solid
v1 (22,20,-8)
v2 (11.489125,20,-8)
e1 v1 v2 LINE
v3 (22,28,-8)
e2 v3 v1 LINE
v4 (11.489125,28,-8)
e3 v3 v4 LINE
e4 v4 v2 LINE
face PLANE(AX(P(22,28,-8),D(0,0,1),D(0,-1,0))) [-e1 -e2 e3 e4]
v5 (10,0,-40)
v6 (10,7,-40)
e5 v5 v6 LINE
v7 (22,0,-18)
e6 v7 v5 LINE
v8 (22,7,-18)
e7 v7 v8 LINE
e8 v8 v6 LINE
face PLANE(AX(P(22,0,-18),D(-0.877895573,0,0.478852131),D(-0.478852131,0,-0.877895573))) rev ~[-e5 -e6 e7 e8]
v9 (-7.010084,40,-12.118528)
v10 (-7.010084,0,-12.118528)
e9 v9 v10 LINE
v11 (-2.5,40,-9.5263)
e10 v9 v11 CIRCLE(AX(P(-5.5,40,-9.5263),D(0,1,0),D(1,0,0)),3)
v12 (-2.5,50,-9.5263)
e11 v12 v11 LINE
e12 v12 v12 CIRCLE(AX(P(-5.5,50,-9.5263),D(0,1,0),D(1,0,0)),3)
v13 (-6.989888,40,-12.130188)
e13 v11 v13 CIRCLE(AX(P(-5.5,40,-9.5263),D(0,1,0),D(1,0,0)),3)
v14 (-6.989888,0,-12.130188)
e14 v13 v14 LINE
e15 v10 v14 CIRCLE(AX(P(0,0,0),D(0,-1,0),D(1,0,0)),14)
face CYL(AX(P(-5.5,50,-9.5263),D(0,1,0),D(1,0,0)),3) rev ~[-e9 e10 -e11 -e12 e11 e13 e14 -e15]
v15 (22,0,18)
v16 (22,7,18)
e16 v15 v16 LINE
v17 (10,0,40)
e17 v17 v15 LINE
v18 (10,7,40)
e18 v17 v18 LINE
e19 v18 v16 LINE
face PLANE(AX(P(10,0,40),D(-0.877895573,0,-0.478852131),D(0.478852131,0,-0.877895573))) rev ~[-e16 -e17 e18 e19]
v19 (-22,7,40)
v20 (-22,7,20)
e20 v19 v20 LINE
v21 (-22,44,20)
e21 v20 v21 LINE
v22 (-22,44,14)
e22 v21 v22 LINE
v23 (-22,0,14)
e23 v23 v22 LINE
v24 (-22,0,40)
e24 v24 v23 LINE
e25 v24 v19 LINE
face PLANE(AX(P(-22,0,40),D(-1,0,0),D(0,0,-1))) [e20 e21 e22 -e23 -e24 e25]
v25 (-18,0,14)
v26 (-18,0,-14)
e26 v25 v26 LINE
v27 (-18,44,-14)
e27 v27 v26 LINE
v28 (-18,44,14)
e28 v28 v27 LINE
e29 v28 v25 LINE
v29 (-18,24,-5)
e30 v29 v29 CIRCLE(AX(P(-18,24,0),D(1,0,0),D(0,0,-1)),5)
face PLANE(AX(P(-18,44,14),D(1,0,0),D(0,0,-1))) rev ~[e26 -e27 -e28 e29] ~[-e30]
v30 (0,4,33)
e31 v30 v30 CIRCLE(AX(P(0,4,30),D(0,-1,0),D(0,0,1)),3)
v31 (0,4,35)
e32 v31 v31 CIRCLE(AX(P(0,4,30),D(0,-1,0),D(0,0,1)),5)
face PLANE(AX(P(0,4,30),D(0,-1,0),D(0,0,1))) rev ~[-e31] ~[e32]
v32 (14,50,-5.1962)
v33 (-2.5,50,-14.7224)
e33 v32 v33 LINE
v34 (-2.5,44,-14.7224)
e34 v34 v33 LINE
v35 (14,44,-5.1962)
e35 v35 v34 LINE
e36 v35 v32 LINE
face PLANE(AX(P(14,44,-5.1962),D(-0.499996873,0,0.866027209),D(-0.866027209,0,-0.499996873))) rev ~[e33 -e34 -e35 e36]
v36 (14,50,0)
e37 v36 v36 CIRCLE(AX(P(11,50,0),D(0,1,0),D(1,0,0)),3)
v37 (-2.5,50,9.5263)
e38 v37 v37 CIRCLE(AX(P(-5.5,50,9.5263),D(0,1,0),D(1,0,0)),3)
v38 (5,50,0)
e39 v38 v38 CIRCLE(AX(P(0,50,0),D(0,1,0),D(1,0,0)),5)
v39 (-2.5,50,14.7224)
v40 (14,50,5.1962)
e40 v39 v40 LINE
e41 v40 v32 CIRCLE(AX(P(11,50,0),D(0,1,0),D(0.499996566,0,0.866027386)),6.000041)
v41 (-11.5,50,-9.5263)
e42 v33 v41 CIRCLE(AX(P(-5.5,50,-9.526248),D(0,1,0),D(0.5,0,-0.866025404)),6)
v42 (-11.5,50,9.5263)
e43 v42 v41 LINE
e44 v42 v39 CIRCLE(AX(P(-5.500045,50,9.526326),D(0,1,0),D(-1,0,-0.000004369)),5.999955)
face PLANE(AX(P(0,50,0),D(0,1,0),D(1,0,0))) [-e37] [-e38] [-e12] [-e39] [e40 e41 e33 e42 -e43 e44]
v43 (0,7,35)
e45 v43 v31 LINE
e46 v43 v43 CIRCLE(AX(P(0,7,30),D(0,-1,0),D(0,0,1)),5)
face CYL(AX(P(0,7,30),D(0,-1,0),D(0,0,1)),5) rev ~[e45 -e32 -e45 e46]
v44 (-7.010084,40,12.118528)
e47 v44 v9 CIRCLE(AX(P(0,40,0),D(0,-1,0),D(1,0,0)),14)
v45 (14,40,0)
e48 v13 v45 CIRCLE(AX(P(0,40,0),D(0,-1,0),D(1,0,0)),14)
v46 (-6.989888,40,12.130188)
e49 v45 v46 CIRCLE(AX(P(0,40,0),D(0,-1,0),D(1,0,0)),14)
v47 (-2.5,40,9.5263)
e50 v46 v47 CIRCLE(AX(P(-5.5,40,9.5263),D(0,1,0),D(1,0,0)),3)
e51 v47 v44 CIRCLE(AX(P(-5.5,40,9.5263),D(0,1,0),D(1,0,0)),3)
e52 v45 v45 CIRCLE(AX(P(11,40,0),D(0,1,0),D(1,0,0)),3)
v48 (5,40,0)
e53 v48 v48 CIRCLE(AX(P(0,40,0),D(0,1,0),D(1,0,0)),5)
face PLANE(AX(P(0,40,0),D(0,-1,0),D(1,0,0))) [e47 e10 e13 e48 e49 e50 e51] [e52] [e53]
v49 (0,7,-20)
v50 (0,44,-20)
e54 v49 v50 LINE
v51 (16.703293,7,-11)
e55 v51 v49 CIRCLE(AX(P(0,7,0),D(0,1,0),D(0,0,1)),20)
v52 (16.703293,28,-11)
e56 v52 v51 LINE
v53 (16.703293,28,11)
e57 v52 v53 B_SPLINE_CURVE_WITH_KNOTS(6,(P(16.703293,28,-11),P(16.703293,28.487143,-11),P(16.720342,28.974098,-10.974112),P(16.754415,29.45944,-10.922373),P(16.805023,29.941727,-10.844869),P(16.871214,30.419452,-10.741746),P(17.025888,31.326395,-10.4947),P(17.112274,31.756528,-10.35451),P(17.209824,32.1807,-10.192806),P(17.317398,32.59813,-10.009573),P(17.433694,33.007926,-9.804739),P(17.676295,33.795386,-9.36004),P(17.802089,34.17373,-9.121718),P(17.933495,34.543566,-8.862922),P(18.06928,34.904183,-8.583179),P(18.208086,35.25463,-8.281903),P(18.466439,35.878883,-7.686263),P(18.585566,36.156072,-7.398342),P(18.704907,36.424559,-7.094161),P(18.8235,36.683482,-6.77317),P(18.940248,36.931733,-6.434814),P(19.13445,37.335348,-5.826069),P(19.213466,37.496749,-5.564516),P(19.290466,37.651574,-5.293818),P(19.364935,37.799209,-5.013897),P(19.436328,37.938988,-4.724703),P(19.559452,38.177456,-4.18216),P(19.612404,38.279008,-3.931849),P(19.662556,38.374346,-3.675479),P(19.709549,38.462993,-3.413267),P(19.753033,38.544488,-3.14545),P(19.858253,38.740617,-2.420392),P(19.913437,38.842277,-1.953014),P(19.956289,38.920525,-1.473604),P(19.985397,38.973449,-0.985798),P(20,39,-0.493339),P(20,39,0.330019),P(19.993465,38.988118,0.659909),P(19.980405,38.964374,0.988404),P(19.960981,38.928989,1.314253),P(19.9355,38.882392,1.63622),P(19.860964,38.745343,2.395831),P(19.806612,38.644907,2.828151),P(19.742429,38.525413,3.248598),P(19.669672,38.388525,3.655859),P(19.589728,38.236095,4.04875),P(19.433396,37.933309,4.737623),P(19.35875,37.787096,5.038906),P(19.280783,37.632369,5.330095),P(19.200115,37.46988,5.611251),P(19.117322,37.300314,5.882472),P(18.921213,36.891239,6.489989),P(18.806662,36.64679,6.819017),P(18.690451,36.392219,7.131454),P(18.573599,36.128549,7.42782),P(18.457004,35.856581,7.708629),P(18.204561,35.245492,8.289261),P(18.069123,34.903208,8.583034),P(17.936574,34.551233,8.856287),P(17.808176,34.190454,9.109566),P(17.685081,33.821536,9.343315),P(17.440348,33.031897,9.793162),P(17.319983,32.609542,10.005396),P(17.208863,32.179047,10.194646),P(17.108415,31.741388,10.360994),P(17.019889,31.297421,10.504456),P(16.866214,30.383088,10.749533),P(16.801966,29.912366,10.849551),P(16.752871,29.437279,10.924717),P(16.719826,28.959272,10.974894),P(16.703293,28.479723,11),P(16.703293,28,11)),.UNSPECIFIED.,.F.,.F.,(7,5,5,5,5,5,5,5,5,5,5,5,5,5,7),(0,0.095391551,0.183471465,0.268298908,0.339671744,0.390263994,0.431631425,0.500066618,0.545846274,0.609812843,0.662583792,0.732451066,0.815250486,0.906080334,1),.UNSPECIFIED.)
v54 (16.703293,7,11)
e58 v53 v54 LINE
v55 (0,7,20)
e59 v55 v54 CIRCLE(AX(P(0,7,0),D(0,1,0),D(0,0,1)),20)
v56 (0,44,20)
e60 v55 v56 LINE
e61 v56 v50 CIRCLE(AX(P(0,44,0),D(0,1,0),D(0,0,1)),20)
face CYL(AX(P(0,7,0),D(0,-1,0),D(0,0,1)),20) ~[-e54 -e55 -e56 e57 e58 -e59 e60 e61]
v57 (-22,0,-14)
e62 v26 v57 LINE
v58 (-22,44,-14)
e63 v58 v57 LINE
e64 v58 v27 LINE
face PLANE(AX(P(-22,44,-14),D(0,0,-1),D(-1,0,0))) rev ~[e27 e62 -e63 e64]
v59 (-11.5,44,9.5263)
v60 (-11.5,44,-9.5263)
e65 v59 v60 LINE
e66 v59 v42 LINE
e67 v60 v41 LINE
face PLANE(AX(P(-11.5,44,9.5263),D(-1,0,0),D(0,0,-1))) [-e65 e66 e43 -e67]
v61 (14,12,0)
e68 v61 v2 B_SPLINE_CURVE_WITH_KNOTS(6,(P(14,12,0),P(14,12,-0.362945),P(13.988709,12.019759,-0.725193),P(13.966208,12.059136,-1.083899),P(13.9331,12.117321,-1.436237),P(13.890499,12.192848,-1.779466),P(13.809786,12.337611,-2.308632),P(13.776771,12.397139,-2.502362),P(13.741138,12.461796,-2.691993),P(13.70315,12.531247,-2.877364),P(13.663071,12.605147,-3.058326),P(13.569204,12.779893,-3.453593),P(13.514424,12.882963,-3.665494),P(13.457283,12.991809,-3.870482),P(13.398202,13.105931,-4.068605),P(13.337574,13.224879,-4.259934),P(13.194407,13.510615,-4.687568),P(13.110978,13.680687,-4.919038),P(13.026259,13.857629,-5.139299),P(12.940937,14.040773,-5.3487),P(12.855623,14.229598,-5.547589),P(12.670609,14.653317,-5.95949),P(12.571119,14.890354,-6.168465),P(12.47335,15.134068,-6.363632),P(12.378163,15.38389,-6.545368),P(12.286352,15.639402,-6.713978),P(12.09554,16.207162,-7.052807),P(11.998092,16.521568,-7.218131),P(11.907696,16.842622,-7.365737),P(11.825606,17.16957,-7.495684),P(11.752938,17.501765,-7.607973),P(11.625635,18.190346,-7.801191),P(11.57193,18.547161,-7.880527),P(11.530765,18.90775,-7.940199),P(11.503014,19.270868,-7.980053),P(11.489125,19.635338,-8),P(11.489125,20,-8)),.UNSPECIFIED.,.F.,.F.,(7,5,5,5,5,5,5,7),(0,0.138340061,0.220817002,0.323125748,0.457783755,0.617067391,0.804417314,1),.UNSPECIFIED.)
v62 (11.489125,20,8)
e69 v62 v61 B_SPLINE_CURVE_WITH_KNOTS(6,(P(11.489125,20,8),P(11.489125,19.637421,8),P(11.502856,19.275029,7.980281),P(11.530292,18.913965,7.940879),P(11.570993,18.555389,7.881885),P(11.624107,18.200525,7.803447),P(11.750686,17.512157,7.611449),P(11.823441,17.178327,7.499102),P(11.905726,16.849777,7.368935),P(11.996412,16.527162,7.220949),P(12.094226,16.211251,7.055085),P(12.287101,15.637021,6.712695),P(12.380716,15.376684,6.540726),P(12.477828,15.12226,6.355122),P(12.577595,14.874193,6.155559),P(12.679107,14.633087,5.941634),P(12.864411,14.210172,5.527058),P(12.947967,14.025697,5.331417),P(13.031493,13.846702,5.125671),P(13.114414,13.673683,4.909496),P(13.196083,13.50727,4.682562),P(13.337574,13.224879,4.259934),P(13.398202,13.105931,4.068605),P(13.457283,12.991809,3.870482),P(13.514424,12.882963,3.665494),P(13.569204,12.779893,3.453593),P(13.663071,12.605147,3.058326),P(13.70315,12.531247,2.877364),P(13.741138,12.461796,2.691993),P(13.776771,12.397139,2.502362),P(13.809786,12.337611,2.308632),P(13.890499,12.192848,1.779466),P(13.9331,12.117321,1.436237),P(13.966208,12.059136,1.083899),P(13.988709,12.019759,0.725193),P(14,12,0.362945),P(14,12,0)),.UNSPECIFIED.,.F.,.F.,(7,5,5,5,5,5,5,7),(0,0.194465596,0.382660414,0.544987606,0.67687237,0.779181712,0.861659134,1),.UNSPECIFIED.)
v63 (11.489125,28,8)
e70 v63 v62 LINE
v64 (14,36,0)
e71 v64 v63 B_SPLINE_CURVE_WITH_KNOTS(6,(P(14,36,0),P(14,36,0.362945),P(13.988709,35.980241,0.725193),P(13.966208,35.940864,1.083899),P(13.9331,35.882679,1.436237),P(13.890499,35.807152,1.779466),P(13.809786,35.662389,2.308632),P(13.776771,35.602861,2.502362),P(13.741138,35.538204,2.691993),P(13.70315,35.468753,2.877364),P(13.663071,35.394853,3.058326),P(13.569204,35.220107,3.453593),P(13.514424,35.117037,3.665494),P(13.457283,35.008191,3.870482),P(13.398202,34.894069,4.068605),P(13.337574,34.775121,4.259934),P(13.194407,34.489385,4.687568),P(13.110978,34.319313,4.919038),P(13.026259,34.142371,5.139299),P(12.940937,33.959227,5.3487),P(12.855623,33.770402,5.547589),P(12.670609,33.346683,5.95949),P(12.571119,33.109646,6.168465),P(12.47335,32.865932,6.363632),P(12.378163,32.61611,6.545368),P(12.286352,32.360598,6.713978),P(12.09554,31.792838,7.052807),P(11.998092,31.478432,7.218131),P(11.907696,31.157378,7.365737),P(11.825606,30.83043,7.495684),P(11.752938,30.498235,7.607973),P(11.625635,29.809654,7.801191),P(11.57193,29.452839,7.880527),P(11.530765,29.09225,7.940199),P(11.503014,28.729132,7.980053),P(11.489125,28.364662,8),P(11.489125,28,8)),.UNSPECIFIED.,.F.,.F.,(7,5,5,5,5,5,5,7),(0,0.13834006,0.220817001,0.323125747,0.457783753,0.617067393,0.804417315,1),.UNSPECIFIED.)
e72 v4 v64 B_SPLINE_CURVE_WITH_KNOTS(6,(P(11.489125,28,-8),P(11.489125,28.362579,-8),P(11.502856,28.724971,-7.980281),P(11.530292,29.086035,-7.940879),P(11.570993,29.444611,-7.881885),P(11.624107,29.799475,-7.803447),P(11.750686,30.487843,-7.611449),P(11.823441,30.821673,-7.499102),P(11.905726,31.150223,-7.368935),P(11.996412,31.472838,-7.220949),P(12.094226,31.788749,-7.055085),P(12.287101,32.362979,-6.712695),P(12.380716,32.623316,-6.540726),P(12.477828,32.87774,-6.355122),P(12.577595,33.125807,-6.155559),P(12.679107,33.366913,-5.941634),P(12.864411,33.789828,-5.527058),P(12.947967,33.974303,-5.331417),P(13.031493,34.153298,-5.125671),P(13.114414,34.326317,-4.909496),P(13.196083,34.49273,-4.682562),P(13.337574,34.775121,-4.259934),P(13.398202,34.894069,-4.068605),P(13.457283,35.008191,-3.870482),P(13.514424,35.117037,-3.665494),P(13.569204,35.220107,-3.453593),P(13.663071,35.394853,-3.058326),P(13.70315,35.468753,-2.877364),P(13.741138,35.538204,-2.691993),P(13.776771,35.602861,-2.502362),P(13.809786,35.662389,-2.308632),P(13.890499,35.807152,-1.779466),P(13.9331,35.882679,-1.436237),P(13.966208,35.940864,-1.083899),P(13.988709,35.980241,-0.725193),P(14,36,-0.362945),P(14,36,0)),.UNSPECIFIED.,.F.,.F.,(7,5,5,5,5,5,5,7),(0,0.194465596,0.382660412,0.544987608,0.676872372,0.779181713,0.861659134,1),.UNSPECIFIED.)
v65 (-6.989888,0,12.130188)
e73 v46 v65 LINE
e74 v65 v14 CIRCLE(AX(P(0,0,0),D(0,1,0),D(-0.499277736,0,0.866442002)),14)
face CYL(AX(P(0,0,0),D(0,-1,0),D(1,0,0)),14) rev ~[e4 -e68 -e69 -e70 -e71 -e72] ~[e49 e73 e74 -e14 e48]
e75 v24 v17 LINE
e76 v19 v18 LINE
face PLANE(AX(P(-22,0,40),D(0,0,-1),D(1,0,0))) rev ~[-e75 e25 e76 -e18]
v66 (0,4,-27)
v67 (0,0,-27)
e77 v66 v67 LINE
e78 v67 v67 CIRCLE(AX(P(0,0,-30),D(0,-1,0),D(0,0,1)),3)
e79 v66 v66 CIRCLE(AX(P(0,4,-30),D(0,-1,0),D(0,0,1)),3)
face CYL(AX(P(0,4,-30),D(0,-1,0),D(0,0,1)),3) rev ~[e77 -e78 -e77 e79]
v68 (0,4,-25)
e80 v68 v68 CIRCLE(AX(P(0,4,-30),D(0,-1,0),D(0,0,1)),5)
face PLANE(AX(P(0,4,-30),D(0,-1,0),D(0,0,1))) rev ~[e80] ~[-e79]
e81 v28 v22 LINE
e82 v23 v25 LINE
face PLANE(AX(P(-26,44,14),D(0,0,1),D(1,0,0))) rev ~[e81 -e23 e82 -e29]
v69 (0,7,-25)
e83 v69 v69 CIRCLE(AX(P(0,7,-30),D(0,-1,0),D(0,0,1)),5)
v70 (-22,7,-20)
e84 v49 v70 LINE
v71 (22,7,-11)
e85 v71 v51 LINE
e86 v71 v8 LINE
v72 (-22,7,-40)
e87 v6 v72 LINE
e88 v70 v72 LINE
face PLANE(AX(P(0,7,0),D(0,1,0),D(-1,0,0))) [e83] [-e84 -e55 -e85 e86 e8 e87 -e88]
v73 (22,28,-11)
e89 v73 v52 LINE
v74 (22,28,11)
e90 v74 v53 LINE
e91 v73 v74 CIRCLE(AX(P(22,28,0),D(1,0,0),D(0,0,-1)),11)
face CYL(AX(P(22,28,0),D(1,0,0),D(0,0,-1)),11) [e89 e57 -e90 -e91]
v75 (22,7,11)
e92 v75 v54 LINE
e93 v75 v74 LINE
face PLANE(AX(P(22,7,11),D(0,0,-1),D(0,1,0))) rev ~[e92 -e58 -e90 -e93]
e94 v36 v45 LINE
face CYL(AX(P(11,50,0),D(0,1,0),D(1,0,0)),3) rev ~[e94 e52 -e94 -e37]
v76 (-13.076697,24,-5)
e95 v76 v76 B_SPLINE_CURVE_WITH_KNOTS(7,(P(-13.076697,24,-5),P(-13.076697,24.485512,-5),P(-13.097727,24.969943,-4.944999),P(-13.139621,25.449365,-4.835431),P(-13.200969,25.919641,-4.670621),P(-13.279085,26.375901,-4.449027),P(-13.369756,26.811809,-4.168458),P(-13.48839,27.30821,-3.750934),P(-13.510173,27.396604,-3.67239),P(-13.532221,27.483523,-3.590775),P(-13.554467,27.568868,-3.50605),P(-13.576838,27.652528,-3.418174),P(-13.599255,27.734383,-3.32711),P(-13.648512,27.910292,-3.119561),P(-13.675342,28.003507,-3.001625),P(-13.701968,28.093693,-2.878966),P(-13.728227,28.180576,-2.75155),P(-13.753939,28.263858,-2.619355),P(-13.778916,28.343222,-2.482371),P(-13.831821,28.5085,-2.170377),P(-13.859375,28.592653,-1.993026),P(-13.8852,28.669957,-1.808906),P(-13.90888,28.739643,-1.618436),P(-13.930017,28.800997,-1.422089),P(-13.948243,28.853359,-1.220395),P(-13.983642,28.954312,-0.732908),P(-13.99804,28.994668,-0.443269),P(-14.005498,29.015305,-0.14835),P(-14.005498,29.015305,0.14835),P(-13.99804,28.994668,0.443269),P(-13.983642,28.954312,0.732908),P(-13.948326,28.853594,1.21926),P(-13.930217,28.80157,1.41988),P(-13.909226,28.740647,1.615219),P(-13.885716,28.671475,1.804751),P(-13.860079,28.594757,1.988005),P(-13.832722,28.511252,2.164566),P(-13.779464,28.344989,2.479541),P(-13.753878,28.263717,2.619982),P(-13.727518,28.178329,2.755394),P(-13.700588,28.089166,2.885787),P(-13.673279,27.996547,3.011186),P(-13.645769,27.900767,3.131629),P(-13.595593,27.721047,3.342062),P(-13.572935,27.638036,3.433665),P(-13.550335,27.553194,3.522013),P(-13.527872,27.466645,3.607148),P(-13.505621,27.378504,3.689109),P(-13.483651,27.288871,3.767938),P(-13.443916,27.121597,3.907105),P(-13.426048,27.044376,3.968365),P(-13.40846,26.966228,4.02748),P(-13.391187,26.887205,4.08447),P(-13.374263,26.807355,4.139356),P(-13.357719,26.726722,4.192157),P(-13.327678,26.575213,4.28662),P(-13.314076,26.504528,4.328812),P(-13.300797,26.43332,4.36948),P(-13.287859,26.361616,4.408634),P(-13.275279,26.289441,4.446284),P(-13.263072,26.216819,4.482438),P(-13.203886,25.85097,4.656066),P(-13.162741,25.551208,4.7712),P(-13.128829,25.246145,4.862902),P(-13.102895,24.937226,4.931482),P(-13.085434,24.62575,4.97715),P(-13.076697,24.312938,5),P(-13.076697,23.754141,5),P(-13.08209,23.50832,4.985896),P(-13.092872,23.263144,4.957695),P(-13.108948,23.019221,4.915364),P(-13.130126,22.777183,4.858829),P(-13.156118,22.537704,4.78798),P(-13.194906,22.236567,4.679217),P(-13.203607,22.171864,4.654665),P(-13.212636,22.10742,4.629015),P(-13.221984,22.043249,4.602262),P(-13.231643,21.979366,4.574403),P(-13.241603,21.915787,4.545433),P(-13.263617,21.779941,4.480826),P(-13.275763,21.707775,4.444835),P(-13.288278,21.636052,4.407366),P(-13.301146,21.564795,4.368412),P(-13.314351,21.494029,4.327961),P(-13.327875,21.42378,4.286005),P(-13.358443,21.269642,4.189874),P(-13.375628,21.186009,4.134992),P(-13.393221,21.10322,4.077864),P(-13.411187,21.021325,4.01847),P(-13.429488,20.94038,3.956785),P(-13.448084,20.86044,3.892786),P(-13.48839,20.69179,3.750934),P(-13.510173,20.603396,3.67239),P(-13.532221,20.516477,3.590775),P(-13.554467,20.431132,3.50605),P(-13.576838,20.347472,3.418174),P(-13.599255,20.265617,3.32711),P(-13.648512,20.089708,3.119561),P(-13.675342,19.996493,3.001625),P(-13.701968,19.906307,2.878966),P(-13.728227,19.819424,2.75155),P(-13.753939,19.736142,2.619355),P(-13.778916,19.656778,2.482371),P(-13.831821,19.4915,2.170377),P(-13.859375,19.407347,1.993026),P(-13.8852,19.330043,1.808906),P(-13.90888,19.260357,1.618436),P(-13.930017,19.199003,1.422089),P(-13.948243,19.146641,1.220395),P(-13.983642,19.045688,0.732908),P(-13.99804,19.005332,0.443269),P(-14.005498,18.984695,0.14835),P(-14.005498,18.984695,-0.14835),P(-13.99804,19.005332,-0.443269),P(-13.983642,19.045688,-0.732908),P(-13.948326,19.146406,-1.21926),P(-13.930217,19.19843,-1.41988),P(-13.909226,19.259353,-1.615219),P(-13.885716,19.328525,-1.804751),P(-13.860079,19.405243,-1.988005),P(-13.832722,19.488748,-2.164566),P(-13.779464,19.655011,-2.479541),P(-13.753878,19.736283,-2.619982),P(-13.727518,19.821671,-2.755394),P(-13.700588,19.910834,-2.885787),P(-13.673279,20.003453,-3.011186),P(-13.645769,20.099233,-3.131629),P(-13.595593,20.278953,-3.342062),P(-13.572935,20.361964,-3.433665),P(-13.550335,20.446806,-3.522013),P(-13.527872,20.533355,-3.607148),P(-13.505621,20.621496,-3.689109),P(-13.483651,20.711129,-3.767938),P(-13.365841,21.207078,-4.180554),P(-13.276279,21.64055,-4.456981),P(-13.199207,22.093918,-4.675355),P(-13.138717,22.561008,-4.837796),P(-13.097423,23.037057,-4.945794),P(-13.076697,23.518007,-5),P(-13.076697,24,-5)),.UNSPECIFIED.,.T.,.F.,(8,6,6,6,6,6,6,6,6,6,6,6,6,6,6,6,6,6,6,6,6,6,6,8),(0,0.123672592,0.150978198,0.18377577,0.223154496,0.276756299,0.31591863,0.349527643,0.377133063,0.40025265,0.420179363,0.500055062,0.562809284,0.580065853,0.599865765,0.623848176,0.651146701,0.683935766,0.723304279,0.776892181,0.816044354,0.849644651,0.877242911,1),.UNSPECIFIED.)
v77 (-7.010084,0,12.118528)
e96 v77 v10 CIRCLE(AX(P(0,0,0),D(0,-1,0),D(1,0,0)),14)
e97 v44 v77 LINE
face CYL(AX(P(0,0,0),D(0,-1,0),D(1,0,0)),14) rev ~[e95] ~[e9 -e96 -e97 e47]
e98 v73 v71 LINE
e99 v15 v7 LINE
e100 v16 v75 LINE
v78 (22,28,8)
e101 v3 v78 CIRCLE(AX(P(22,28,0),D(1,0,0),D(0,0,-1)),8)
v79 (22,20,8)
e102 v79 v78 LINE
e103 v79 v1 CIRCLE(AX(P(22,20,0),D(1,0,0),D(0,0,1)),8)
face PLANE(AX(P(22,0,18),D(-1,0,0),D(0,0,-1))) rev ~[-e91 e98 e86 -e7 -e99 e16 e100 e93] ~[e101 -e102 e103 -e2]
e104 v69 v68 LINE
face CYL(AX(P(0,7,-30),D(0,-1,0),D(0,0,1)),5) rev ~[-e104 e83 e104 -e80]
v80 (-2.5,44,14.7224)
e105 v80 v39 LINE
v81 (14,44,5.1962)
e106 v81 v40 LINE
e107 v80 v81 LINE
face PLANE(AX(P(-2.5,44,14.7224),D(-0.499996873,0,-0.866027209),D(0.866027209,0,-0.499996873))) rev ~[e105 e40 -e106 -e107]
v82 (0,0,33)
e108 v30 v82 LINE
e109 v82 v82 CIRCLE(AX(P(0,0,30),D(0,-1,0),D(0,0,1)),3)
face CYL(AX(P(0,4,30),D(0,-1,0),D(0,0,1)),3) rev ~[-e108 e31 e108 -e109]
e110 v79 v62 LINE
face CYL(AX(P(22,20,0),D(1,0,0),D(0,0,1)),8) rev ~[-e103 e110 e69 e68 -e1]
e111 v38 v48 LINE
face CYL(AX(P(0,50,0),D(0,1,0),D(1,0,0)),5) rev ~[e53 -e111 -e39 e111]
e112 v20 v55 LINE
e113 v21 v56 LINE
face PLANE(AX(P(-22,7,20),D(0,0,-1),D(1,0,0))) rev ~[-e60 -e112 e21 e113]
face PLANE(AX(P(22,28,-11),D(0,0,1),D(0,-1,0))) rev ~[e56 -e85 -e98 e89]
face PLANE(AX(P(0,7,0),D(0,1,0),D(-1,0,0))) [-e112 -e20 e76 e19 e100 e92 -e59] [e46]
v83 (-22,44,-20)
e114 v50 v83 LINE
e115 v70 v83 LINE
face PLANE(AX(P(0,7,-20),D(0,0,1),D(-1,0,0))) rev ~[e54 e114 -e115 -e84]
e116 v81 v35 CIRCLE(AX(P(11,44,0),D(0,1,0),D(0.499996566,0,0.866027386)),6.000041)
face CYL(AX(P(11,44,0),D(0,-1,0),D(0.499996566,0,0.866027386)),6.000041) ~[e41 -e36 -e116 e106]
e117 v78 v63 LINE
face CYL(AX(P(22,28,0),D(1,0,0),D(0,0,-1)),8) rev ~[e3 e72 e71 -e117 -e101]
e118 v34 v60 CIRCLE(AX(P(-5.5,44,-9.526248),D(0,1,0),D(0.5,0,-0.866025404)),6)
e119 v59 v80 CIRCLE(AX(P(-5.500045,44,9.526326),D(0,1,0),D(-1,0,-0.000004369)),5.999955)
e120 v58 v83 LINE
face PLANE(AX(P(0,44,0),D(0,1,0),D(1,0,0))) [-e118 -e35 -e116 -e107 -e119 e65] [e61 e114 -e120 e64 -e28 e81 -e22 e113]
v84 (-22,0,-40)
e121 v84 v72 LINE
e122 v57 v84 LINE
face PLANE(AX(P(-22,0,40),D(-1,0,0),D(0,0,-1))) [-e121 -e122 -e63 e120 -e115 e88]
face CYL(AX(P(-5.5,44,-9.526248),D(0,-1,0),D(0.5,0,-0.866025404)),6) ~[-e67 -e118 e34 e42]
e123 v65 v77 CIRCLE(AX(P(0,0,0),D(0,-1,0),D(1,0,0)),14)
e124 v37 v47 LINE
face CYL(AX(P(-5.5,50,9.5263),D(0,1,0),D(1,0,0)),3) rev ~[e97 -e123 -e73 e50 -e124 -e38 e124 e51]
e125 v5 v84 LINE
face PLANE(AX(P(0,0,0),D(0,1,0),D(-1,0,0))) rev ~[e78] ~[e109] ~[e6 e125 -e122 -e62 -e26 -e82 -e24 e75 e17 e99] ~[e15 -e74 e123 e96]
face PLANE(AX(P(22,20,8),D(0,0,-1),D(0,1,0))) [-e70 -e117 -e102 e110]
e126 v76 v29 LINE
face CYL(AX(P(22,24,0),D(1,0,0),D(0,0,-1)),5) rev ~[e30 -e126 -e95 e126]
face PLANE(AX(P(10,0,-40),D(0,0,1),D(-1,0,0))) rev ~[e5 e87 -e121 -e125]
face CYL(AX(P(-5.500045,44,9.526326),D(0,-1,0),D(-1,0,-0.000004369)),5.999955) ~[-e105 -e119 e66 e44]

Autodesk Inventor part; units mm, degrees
ref_plane "YZ Plane" through (0, 0, 0) normal (1, 0, 0) x (0, 1, 0)
ref_plane "XZ Plane" through (0, 0, 0) normal (0, 1, 0) x (-1, 0, 0)
ref_plane "XY Plane" through (0, 0, 0) normal (0, 0, 1) x (1, 0, 0)
sketch "草图1" plane through (0, 0, 0) normal (0, 1, 0) x (-1, 0, 0)
  line L0 (22, 40) -> (22, -40)
  line L1 (0, 0) -> (22, 0) construction
  line L2 (22, 40) -> (-10, 40)
  line L3 (-10, 40) -> (-22, 18)
  line L4 (-22, 18) -> (-22, -18)
  line L5 (-22, -18) -> (-10, -40)
  line L6 (-10, -40) -> (22, -40)
  dimension "d0" = 80
  dimension "d1" = 22
  dimension "d2" = 32
  dimension "d3" = 44
  dimension "d4" = 36
extrude "拉伸1" add sketch "草图1" along normal blind 7
sketch "草图2" plane through (0, 7, 0) normal (0, 1, 0) x (1, 0, 0)
  line L0 (-44, 0) -> (0, 0) construction
  line L1 (-22, 40) -> (-22, -40) projected
  line L2 (-44, -20) -> (0, -20)
  line L3 (0, 20) -> (-44, 20)
  arc A0 (-44, 20) -> (-44, -20) centre (-44, 0) ccw
  arc A1 (0, -20) -> (0, 20) centre (0, 0) ccw
  line L4 (-22, -20) -> (-22, 20)
  point P0 (-22, 0)
  dimension "d7" = 20
extrude "拉伸2" add sketch "草图2" along normal blind 37 contours L1 L3 A1 L2
sketch "草图3" plane through (0, 44, 0) normal (0, 1, 0) x (1, 0, 0)
  circle A0 centre (0, 0) radius 11 construction
  line L0 (0, 0) -> (-5.5, 9.5263) construction
  line L1 (0, 0) -> (-5.5, -9.5263) construction
  line L2 (0, 0) -> (11, 0) construction
  arc A1 (-2.5, 14.7224) -> (-11.5, 9.5263) centre (-5.5, 9.5263) ccw
  arc A2 (-11.5, -9.5263) -> (-2.5, -14.7224) centre (-5.5, -9.5263) ccw
  arc A3 (14, -5.1962) -> (14, 5.1962) centre (11, 0) ccw
  line L3 (-11.5, -9.5263) -> (-11.5, 9.5263)
  line L4 (14, 5.1962) -> (-2.5, 14.7224)
  line L5 (-2.5, -14.7224) -> (14, -5.1962)
  dimension "d10" = 120
  dimension "d11" = 120
  dimension "d12" = 22
  dimension "d13" = 6
extrude "拉伸3" add sketch "草图3" along normal blind 6
sketch "草图4" plane through (22, 0, 18) normal (1, 0, 0) x (0, 0, -1)
  line L0 (18, -28) -> (18, 28) construction
  line L1 (7, -28) -> (7, 28)
  line L2 (29, 28) -> (29, -28)
  arc A0 (7, -28) -> (29, -28) centre (18, -28) ccw
  arc A1 (29, 28) -> (7, 28) centre (18, 28) ccw
  line L3 (36, 0) -> (0, 0) projected
  line L4 (-2, 7) -> (38, 7) projected
  line L5 (7, 7) -> (29, 7)
  point P0 (18, 0)
  dimension "d16" = 28
  dimension "d17" = 11
extrude "拉伸4" add sketch "草图4" against normal up to surface contours L1 A1 L2 L4
sketch "草图5" plane through (0, 7, 0) normal (0, 1, 0) x (1, 0, 0)
  line L0 (0, -30) -> (0, 30) construction
  point P0 (0, 0)
  point P1 (0, 0)
  dimension "d20" = 60
hole "孔1" at (0, 7, 30) at (0, 7, -30) direction (0, -1, 0) diameter 6 end through all counterbore diameter 10 counterbore depth 3
sketch "草图6" plane through (0, 44, 0) normal (0, 1, 0) x (1, 0, 0)
  line L0 (-26, -14) -> (-18, -14)
  line L1 (-18, -14) -> (-18, 14)
  line L2 (-18, 14) -> (-26, 14)
  line L3 (-26, 14) -> (-26, -14)
  line L4 (-22, -40) -> (-22, 40) projected
  line L5 (-26, -14) -> (-18, 14) construction
  line L6 (-18, -14) -> (-26, 14) construction
  point P0 (0, 0)
  point P1 (-22, 0)
  dimension "d28" = 28
  dimension "d29" = 4
extrude "拉伸5" cut sketch "草图6" against normal through all
sketch "草图7" plane through (0, 0, 0) normal (0, -1, 0) x (1, 0, 0)
  circle A0 centre (0, 0) radius 14
  dimension "d32" = 28
extrude "拉伸6" cut sketch "草图7" against normal blind 40
sketch "草图8" plane through (0, 50, 0) normal (0, 1, 0) x (1, 0, 0)
  arc A0 (-2.5, 14.7224) -> (-11.5, 9.5263) centre (-5.5, 9.5263) ccw projected
  circle A1 centre (-5.5, 9.5263) radius 3
  arc A2 (-11.5, -9.5263) -> (-2.5, -14.7224) centre (-5.5, -9.5263) ccw projected
  circle A3 centre (-5.5, -9.5263) radius 3
  arc A4 (14, -5.1962) -> (14, 5.1962) centre (11, 0) ccw projected
  circle A5 centre (11, 0) radius 3
  circle A6 centre (0, 0) radius 5
  dimension "d35" = 6
  dimension "d36" = 10
extrude "拉伸7" cut sketch "草图8" against normal through all
sketch "草图9" plane through (22, 0, 18) normal (1, 0, 0) x (0, 0, -1)
  line L0 (18, 0) -> (18, 24) construction
  circle A0 centre (18, 24) radius 5
  dimension "d39" = 10
  dimension "d40" = 24
extrude "拉伸8" cut sketch "草图9" against normal through all
sketch "草图10" plane through (22, 0, 18) normal (1, 0, 0) x (0, 0, -1)
  line L0 (18, 20) -> (18, 28) construction
  circle A0 centre (18, 24) radius 5 projected
  line L1 (10, 20) -> (10, 28)
  line L2 (26, 28) -> (26, 20)
  arc A1 (10, 20) -> (26, 20) centre (18, 20) ccw
  arc A2 (26, 28) -> (10, 28) centre (18, 28) ccw
  point P0 (18, 0)
  dimension "d43" = 8
  dimension "d44" = 8
extrude "拉伸9" cut sketch "草图10" against normal blind 22
properties part number "模型1"
